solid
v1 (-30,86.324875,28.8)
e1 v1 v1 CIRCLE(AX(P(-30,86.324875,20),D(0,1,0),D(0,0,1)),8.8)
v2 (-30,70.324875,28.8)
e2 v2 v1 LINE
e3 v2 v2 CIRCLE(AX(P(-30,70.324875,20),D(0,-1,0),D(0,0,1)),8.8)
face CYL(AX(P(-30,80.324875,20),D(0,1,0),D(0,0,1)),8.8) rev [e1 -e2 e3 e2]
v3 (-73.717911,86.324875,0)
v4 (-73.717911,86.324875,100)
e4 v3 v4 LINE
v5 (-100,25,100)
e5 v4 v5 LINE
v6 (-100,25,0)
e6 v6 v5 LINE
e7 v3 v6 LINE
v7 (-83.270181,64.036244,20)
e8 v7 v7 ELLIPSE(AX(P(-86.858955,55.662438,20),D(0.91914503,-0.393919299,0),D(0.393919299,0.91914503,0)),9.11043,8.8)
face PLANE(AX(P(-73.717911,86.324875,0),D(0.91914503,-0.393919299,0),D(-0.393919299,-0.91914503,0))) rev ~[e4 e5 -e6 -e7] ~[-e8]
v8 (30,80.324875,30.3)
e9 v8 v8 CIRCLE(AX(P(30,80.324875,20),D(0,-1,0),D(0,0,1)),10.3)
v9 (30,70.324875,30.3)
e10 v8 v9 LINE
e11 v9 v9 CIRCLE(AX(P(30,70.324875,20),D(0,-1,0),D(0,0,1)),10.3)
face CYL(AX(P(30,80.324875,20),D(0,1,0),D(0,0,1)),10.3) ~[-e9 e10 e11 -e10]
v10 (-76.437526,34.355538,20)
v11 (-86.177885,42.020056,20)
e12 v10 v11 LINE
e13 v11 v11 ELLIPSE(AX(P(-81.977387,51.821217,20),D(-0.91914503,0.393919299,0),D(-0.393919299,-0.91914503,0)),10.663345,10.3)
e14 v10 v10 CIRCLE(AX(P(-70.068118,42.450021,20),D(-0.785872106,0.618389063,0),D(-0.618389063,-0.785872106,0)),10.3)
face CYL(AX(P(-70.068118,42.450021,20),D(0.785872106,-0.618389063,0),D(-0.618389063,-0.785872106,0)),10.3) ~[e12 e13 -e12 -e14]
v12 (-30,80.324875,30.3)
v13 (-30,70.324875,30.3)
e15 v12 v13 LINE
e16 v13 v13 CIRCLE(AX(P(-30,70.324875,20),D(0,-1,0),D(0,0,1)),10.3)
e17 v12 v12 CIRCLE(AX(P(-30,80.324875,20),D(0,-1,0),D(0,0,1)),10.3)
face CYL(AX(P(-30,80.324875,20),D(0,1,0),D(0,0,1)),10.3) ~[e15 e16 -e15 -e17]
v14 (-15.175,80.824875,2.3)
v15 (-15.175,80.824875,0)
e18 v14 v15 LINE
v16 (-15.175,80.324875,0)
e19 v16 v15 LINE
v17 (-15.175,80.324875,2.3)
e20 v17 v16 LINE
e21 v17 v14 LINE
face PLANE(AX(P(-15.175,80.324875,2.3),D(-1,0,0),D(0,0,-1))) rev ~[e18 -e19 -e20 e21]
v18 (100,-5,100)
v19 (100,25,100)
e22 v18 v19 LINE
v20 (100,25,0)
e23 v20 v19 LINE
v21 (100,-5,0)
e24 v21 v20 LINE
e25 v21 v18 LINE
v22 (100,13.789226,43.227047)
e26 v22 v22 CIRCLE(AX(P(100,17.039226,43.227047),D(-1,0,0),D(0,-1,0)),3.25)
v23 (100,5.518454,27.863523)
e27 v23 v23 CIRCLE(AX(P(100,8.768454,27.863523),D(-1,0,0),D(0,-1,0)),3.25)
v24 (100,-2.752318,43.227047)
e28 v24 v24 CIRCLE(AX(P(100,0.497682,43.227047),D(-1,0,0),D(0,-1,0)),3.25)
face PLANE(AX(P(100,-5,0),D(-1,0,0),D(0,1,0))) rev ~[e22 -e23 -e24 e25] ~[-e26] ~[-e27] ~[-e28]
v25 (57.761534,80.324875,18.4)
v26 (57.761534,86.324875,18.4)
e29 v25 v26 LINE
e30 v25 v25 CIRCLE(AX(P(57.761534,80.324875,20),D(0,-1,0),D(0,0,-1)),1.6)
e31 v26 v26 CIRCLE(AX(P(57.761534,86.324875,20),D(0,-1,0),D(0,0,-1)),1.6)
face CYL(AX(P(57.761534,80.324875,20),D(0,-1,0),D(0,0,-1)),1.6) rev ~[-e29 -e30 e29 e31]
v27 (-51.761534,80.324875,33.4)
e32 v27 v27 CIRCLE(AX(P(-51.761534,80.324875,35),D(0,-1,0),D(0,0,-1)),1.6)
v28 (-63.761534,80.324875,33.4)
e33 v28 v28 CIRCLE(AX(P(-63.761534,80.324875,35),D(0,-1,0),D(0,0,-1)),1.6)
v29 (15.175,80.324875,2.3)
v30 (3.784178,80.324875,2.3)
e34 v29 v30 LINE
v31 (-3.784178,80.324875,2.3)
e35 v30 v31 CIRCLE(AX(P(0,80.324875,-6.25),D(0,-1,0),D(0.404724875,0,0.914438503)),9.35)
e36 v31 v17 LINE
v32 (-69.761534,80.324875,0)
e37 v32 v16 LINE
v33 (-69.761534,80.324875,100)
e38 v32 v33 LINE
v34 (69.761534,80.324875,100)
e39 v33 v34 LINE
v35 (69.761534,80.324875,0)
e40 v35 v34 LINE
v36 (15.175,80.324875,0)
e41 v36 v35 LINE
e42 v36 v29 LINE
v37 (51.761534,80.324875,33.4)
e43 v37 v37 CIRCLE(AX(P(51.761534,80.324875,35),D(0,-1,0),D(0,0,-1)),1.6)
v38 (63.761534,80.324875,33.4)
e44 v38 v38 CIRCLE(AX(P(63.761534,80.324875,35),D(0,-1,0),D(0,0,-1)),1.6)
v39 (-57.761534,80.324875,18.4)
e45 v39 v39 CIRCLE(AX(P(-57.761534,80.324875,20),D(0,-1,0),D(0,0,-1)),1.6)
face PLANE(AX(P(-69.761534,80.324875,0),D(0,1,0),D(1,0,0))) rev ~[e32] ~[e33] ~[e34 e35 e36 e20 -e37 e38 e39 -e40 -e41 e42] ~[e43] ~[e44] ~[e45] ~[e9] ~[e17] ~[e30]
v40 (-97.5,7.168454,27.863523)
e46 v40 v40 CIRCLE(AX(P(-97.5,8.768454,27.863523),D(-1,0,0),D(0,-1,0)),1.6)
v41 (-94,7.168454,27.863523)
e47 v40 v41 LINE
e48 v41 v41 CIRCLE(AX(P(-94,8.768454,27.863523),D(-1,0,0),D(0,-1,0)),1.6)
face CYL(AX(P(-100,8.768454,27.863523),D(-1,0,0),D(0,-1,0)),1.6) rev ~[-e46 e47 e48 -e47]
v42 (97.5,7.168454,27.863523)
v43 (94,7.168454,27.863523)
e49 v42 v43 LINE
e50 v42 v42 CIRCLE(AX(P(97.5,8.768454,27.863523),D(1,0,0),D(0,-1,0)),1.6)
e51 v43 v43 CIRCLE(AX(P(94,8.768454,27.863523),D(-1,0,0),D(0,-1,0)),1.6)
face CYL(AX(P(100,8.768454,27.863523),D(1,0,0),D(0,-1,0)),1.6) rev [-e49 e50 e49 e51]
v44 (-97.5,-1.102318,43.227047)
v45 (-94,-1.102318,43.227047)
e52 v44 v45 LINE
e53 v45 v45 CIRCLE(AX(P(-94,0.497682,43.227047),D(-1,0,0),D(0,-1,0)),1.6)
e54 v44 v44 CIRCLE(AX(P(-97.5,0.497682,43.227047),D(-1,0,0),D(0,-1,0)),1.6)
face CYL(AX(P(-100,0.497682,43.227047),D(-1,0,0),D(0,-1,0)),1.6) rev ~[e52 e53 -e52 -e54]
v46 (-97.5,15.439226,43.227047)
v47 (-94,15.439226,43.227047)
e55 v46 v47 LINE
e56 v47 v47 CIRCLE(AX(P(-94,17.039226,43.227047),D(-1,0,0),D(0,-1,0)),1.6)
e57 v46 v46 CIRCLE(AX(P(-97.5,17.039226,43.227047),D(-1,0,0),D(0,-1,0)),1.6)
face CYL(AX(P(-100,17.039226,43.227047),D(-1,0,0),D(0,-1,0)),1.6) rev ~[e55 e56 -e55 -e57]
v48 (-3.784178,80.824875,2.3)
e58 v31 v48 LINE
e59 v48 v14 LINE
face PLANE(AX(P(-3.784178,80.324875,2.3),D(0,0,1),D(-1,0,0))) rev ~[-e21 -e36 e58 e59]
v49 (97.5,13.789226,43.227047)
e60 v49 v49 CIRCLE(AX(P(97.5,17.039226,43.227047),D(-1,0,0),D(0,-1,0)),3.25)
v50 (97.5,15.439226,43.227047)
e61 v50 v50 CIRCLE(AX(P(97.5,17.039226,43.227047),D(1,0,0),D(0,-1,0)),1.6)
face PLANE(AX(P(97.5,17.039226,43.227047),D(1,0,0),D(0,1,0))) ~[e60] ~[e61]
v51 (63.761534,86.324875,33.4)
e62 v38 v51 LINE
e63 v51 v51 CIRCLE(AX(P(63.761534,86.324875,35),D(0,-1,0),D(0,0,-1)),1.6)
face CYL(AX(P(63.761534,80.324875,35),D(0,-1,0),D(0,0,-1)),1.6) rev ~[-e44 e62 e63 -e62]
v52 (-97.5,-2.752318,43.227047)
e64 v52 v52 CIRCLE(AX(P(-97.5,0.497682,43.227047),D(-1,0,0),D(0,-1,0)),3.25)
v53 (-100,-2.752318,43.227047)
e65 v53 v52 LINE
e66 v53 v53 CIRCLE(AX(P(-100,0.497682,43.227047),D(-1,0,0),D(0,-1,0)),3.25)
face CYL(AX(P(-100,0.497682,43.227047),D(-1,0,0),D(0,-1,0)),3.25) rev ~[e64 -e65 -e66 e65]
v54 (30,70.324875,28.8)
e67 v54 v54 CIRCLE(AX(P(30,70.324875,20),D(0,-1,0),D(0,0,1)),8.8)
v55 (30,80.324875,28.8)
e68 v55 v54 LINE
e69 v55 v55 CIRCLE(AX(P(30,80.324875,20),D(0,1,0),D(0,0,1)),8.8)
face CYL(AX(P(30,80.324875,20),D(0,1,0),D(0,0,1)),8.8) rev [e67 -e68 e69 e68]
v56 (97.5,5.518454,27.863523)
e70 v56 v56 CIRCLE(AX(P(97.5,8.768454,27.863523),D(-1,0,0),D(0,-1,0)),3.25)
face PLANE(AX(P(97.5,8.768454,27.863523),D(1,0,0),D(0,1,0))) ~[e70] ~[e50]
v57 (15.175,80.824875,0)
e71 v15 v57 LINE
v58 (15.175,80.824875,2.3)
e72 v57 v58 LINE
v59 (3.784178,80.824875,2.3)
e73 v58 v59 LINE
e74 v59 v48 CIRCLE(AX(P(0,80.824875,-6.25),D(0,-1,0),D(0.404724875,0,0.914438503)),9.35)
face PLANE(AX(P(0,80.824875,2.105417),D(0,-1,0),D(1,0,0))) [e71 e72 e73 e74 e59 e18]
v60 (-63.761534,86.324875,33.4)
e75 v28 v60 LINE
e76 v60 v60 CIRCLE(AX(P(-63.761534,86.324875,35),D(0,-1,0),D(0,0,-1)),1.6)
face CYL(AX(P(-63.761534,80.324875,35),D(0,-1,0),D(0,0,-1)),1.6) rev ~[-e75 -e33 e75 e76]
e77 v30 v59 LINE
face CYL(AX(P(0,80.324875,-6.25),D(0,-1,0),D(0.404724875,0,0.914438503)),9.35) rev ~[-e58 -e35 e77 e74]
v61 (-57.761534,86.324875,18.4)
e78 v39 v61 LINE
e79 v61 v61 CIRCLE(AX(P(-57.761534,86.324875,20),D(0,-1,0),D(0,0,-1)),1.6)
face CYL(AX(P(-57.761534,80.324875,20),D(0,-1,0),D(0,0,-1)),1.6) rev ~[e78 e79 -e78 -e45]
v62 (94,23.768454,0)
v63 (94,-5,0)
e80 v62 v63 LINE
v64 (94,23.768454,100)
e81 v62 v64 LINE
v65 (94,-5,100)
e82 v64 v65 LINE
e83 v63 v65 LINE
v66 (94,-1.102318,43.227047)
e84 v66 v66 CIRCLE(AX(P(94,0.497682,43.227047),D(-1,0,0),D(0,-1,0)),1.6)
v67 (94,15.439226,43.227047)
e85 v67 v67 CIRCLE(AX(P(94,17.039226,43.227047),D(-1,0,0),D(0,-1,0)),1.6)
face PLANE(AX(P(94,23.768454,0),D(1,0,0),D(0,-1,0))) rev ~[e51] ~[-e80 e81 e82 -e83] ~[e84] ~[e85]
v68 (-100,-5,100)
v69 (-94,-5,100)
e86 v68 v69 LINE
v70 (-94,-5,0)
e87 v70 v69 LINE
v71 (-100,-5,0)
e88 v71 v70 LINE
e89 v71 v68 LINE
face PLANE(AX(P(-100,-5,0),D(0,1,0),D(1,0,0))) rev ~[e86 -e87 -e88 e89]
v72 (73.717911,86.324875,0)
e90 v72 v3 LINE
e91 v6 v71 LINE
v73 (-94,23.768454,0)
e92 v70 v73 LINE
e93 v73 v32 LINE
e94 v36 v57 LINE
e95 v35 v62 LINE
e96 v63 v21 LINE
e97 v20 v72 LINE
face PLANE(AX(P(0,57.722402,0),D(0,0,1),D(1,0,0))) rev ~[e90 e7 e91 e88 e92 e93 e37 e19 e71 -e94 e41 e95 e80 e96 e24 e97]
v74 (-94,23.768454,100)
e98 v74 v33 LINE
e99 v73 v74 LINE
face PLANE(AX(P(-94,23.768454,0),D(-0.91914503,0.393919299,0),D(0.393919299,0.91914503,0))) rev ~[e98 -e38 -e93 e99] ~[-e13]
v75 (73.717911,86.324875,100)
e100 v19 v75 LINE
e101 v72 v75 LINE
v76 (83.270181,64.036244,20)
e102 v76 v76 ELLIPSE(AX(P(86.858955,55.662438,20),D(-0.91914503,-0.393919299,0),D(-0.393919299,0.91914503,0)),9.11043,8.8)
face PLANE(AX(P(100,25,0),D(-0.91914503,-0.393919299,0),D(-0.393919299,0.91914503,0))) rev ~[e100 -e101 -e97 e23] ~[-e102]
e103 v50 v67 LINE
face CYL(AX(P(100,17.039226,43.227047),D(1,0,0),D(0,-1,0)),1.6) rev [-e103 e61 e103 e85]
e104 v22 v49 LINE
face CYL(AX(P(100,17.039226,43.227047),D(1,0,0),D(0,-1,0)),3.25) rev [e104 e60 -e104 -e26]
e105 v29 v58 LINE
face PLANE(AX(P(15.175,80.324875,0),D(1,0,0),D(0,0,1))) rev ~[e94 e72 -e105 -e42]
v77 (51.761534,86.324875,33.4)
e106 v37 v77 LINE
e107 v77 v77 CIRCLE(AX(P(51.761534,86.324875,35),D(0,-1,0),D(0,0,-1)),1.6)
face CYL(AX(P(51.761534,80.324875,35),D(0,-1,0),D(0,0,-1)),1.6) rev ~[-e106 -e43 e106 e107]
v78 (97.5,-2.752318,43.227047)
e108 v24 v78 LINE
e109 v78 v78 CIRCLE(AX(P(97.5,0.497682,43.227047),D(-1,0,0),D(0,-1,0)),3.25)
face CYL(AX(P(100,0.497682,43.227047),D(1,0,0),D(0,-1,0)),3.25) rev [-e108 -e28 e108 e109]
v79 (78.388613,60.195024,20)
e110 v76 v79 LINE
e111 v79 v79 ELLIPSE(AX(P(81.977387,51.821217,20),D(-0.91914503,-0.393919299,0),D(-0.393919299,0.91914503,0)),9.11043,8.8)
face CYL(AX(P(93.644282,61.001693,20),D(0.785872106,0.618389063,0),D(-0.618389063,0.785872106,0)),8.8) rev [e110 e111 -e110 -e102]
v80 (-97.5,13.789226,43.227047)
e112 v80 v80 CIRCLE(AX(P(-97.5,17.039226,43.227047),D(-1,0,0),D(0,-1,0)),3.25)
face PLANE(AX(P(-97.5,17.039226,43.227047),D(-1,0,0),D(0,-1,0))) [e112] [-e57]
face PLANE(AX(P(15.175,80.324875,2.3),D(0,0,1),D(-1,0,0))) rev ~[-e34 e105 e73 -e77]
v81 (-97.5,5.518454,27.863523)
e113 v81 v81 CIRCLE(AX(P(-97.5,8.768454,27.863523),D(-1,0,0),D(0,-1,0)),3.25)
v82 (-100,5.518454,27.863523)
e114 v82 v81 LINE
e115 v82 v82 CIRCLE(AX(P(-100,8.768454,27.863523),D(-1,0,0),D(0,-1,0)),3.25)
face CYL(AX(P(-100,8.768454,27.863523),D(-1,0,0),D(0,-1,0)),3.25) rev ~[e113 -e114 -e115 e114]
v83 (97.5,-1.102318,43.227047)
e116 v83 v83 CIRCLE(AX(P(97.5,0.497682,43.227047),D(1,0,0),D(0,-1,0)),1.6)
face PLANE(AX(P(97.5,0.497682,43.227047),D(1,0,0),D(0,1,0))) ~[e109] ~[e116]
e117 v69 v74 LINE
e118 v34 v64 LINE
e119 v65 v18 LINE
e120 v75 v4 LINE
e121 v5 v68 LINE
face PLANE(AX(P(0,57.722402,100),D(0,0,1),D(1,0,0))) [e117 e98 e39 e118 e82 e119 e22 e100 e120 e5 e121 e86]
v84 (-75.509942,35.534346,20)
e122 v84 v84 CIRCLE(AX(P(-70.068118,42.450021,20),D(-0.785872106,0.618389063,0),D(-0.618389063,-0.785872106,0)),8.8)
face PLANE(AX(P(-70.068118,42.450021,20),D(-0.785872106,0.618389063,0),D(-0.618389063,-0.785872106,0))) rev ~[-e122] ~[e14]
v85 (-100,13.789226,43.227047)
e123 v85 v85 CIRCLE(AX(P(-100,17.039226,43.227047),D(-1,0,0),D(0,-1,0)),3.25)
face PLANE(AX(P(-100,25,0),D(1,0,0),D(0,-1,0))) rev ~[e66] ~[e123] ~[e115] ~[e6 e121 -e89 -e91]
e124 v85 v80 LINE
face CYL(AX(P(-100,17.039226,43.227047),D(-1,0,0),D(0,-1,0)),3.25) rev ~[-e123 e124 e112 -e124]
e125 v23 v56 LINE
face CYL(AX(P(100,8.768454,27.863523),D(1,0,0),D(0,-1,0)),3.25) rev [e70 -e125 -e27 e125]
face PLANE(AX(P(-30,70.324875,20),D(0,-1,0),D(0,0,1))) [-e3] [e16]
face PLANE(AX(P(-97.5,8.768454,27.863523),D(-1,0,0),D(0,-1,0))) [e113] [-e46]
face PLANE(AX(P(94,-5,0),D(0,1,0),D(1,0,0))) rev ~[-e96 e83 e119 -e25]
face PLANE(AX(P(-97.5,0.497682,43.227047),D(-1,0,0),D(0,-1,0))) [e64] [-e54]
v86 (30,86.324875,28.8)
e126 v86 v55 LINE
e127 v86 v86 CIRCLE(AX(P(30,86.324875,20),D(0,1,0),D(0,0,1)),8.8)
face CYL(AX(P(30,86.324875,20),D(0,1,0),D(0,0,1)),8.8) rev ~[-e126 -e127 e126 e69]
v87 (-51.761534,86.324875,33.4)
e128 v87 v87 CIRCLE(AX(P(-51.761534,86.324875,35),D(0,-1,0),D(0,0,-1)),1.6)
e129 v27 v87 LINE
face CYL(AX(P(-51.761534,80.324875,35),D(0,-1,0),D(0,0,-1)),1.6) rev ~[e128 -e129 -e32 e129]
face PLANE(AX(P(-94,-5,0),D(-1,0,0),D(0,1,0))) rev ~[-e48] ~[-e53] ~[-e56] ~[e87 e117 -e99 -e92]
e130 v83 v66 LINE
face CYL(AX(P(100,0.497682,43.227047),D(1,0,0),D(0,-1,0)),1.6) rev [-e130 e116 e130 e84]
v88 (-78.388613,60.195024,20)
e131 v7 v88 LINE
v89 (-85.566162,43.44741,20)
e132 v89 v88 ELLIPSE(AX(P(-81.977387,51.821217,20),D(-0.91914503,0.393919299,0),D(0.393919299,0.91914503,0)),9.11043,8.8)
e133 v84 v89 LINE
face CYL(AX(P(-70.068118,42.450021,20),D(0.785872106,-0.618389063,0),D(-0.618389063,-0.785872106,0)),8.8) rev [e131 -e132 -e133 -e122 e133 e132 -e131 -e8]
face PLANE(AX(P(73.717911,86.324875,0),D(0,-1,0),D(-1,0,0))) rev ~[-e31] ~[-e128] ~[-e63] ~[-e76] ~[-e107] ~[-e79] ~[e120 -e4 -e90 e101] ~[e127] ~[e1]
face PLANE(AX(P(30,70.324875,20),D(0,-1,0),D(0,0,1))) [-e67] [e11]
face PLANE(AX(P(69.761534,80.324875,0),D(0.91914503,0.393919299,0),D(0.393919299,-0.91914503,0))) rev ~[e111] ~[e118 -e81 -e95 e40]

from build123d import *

# Parameters (mm, degrees)
SALIENTE_EXTRUIR1_DEPTH = 100
CORTAR_EXTRUIR1_REACH   = 170.346
CROQUIS3_R              = 8.8
CORTAR_EXTRUIR2_REACH   = 226.945
CROQUIS4_R              = 8.8
CORTAR_EXTRUIR3_DEPTH   = 0.5
CORTAR_EXTRUIR4_REACH   = 241.691
CROQUIS6_R              = 1.6
CROQUIS7_R              = 3.25
CORTAR_EXTRUIR5_DEPTH   = 2.5
CROQUIS11_R             = 10.3
CROQUIS11_R_2           = 8.8
SALIENTE_EXTRUIR2_DEPTH = 10
SALIENTE_EXTRUIR3_REACH = 201.802
CROQUIS12_R             = 10.3
CROQUIS12_R_2           = 8.8
CORTAR_EXTRUIR9_REACH   = 167.168
CROQUIS13_R             = 1.6


with BuildPart() as part:
    # Croquis1 → Saliente-Extruir1 (new body)
    with BuildSketch(Plane.XY):
        Polygon((-100, 25), (-100, -5), (-94, -5), (-94, 23.768453788), (-69.761533754, 80.324875029), (69.761533754, 80.324875029), (94, 23.768453788), (94, -5), (100, -5), (100, 25), (73.717910702, 86.324875029), (-73.717910702, 86.324875029), align=None)
    extrude(amount=SALIENTE_EXTRUIR1_DEPTH)

    # Croquis3 → Cortar-Extruir1 (cut, up to next)
    with BuildSketch(Plane(origin=(0, 86.324875029, 0), x_dir=(1, 0, 0), z_dir=(0, 1, 0)), mode=Mode.PRIVATE) as cortar_extruir1_sk1:
        with Locations(Location((-30, -20, 0), (0, 0, 270))):
            Circle(CROQUIS3_R)
    cortar_extruir1_tool1 = extrude(cortar_extruir1_sk1.sketch, amount=-CORTAR_EXTRUIR1_REACH, mode=Mode.PRIVATE) & part.part
    # Croquis3 → Cortar-Extruir1 (cut, up to next)
    with BuildSketch(Plane(origin=(0, 86.324875029, 0), x_dir=(1, 0, 0), z_dir=(0, 1, 0)), mode=Mode.PRIVATE) as cortar_extruir1_sk2:
        with Locations(Location((30, -20, 0), (0, 0, 270))):
            Circle(CROQUIS3_R)
    cortar_extruir1_tool2 = extrude(cortar_extruir1_sk2.sketch, amount=-CORTAR_EXTRUIR1_REACH, mode=Mode.PRIVATE) & part.part
    add(cortar_extruir1_tool1.solids().sort_by_distance((-30, 86.324875, 20))[0], mode=Mode.SUBTRACT)
    add(cortar_extruir1_tool2.solids().sort_by_distance((30, 86.324875, 20))[0], mode=Mode.SUBTRACT)

    # Cortar-Extruir2: up to this plane
    cortar_extruir2_end = Plane(origin=(-94, 23.768453788, 100), z_dir=(-0.9191450300180581, 0.3939192985791672, 0))
    # Croquis4 → Cortar-Extruir2 (cut, up to the surface)
    with BuildSketch(Plane(origin=(-87.479517168, 68.836107355, 0), x_dir=(0, 0, -1), z_dir=(-0.7858721058939679, 0.6183890629512945, 0)), mode=Mode.PRIVATE) as cortar_extruir2_sk1:
        with Locations(Location((-20, 9.96907102, 0), (0, 0, 270))):
            Circle(CROQUIS4_R)
    cortar_extruir2_tool1 = split(extrude(cortar_extruir2_sk1.sketch, amount=-CORTAR_EXTRUIR2_REACH, mode=Mode.PRIVATE), bisect_by=cortar_extruir2_end, keep=Keep.BOTH, mode=Mode.PRIVATE)
    cortar_extruir2 = cortar_extruir2_tool1.solids().sort_by_distance((-93.644282, 61.001693, 20))[0]
    add(cortar_extruir2, mode=Mode.SUBTRACT)

    # Simetría1: Cortar-Extruir2 across plane
    add(cortar_extruir2.mirror(Plane(origin=(0, 0, 0), x_dir=(0, 0, 1), z_dir=(1, 0, 0))), mode=Mode.SUBTRACT)

    # Croquis5 → Cortar-Extruir3 (cut)
    with BuildSketch(Plane.XZ.offset(-80.324875029)):
        with BuildLine():
            Line((14.875, 0), (15.175, 0))
            Line((15.175, 0), (15.175, 2.3))
            Line((15.175, 2.3), (3.784177586, 2.3))
            ThreePointArc((3.784177586, 2.3), (0, 3.1), (-3.784177586, 2.3))
            Line((-3.784177586, 2.3), (-15.175, 2.3))
            Line((-15.175, 2.3), (-15.175, 0))
            Line((-15.175, 0), (-14.875, 0))
            Line((-14.875, 0), (-14.875, 2))
            Line((-14.875, 2), (-3.720215048, 2))
            ThreePointArc((-3.720215048, 2), (0, 2.8), (3.720215048, 2))
            Line((3.720215048, 2), (14.875, 2))
            Line((14.875, 2), (14.875, 0))
        make_face()
        with BuildLine():
            Line((3.261901286, 0), (14.875, 0))
            Line((14.875, 0), (14.875, 2))
            Line((14.875, 2), (3.720215048, 2))
            ThreePointArc((3.720215048, 2), (0, 2.8), (-3.720215048, 2))
            Line((-3.720215048, 2), (-14.875, 2))
            Line((-14.875, 2), (-14.875, 0))
            Line((-14.875, 0), (-3.261901286, 0))
            ThreePointArc((-3.261901286, 0), (0, 0.8), (3.261901286, 0))
        make_face()
        with BuildLine():
            Line((-3.261901286, 0), (3.261901286, 0))
            ThreePointArc((3.261901286, 0), (0, 0.8), (-3.261901286, 0))
        make_face()
    extrude(amount=-CORTAR_EXTRUIR3_DEPTH, mode=Mode.SUBTRACT)

    # Croquis6 → Cortar-Extruir4 (cut, up to next)
    with BuildSketch(Plane.ZY.offset(100), mode=Mode.PRIVATE) as cortar_extruir4_sk1:
        with Locations(Location((43.227046774, 0.497681725, 0), (0, 0, 270))):
            Circle(CROQUIS6_R)
    cortar_extruir4_tool1 = extrude(cortar_extruir4_sk1.sketch, amount=-CORTAR_EXTRUIR4_REACH, mode=Mode.PRIVATE) & part.part
    # Croquis6 → Cortar-Extruir4 (cut, up to next)
    with BuildSketch(Plane.ZY.offset(100), mode=Mode.PRIVATE) as cortar_extruir4_sk2:
        with Locations(Location((27.863523387, 8.768453788, 0), (0, 0, 270))):
            Circle(CROQUIS6_R)
    cortar_extruir4_tool2 = extrude(cortar_extruir4_sk2.sketch, amount=-CORTAR_EXTRUIR4_REACH, mode=Mode.PRIVATE) & part.part
    # Croquis6 → Cortar-Extruir4 (cut, up to next)
    with BuildSketch(Plane.ZY.offset(100), mode=Mode.PRIVATE) as cortar_extruir4_sk3:
        with Locations(Location((43.227046774, 17.039225851, 0), (0, 0, 270))):
            Circle(CROQUIS6_R)
    cortar_extruir4_tool3 = extrude(cortar_extruir4_sk3.sketch, amount=-CORTAR_EXTRUIR4_REACH, mode=Mode.PRIVATE) & part.part
    cortar_extruir4_1 = cortar_extruir4_tool1.solids().sort_by_distance((-100, 0.497682, 43.227047))[0]
    add(cortar_extruir4_1, mode=Mode.SUBTRACT)
    cortar_extruir4_2 = cortar_extruir4_tool2.solids().sort_by_distance((-100, 8.768454, 27.863523))[0]
    add(cortar_extruir4_2, mode=Mode.SUBTRACT)
    cortar_extruir4_3 = cortar_extruir4_tool3.solids().sort_by_distance((-100, 17.039226, 43.227047))[0]
    add(cortar_extruir4_3, mode=Mode.SUBTRACT)
    cortar_extruir4 = cortar_extruir4_1 + cortar_extruir4_2 + cortar_extruir4_3  # Cortar-Extruir4 as one shape, for the pattern or mirror that repeats it

    # Croquis7 → Cortar-Extruir5 (cut)
    with BuildSketch(Plane.ZY.offset(100)):
        with Locations(Location((27.863523387, 8.768453788, 0), (0, 0, 270))):
            Circle(CROQUIS7_R)
        with Locations(Location((43.227046774, 0.497681725, 0), (0, 0, 270))):
            Circle(CROQUIS7_R)
        with Locations(Location((43.227046774, 17.039225851, 0), (0, 0, 270))):
            Circle(CROQUIS7_R)
    cortar_extruir5 = extrude(amount=-CORTAR_EXTRUIR5_DEPTH, mode=Mode.SUBTRACT)

    # Simetría2: Cortar-Extruir4, Cortar-Extruir5 across plane
    add(cortar_extruir4.mirror(Plane(origin=(0, 0, 0), x_dir=(0, 0, 1), z_dir=(1, 0, 0))), mode=Mode.SUBTRACT)
    add(cortar_extruir5.mirror(Plane(origin=(0, 0, 0), x_dir=(0, 0, 1), z_dir=(1, 0, 0))), mode=Mode.SUBTRACT)

    # Croquis11 → Saliente-Extruir2 (add)
    with BuildSketch(Plane.XZ.offset(-80.324875029)):
        with Locations(Location((-30, 20, 0), (0, 0, 90))):
            Circle(CROQUIS11_R)
        with Locations(Location((-30, 20, 0), (0, 0, 90))):
            Circle(CROQUIS11_R_2, mode=Mode.SUBTRACT)
        with Locations(Location((30, 20, 0), (0, 0, 90))):
            Circle(CROQUIS11_R)
        with Locations(Location((30, 20, 0), (0, 0, 90))):
            Circle(CROQUIS11_R_2, mode=Mode.SUBTRACT)
    extrude(amount=SALIENTE_EXTRUIR2_DEPTH)

    # Saliente-Extruir3: up to this plane
    saliente_extruir3_end = Plane(origin=(-94, 23.768453788, 100), z_dir=(-0.9191450300180581, 0.3939192985791672, 0))
    # Croquis12 → Saliente-Extruir3 (add, up to the surface)
    with BuildSketch(Plane(origin=(-63.903353991, 50.284435467, 0), x_dir=(0, 0, -1), z_dir=(-0.7858721058939679, 0.6183890629512945, 0)), mode=Mode.PRIVATE) as saliente_extruir3_sk1:
        with Locations(Location((-20, 9.96907102, 0), (0, 0, 90))):
            Circle(CROQUIS12_R)
        with Locations(Location((-20, 9.96907102, 0), (0, 0, 90))):
            Circle(CROQUIS12_R_2, mode=Mode.SUBTRACT)
    saliente_extruir3_tool1 = split(extrude(saliente_extruir3_sk1.sketch, amount=SALIENTE_EXTRUIR3_REACH, mode=Mode.PRIVATE), bisect_by=saliente_extruir3_end, keep=Keep.BOTH, mode=Mode.PRIVATE)
    add(saliente_extruir3_tool1.solids().sort_by_distance((-63.878865, 50.315557, 20))[0])

    # Croquis13 → Cortar-Extruir9 (cut, up to next)
    with BuildSketch(Plane.XZ.offset(-80.324875029), mode=Mode.PRIVATE) as cortar_extruir9_sk1:
        with Locations(Location((57.761533754, 20, 0), (0, 0, 270))):
            Circle(CROQUIS13_R)
    cortar_extruir9_tool1 = extrude(cortar_extruir9_sk1.sketch, amount=-CORTAR_EXTRUIR9_REACH, mode=Mode.PRIVATE) & part.part
    # Croquis13 → Cortar-Extruir9 (cut, up to next)
    with BuildSketch(Plane.XZ.offset(-80.324875029), mode=Mode.PRIVATE) as cortar_extruir9_sk2:
        with Locations(Location((51.761533754, 35, 0), (0, 0, 270))):
            Circle(CROQUIS13_R)
    cortar_extruir9_tool2 = extrude(cortar_extruir9_sk2.sketch, amount=-CORTAR_EXTRUIR9_REACH, mode=Mode.PRIVATE) & part.part
    # Croquis13 → Cortar-Extruir9 (cut, up to next)
    with BuildSketch(Plane.XZ.offset(-80.324875029), mode=Mode.PRIVATE) as cortar_extruir9_sk3:
        with Locations(Location((63.761533754, 35, 0), (0, 0, 270))):
            Circle(CROQUIS13_R)
    cortar_extruir9_tool3 = extrude(cortar_extruir9_sk3.sketch, amount=-CORTAR_EXTRUIR9_REACH, mode=Mode.PRIVATE) & part.part
    # Croquis13 → Cortar-Extruir9 (cut, up to next)
    with BuildSketch(Plane.XZ.offset(-80.324875029), mode=Mode.PRIVATE) as cortar_extruir9_sk4:
        with Locations(Location((-57.761533754, 20, 0), (0, 0, 270))):
            Circle(CROQUIS13_R)
    cortar_extruir9_tool4 = extrude(cortar_extruir9_sk4.sketch, amount=-CORTAR_EXTRUIR9_REACH, mode=Mode.PRIVATE) & part.part
    # Croquis13 → Cortar-Extruir9 (cut, up to next)
    with BuildSketch(Plane.XZ.offset(-80.324875029), mode=Mode.PRIVATE) as cortar_extruir9_sk5:
        with Locations(Location((-63.761533754, 35, 0), (0, 0, 270))):
            Circle(CROQUIS13_R)
    cortar_extruir9_tool5 = extrude(cortar_extruir9_sk5.sketch, amount=-CORTAR_EXTRUIR9_REACH, mode=Mode.PRIVATE) & part.part
    # Croquis13 → Cortar-Extruir9 (cut, up to next)
    with BuildSketch(Plane.XZ.offset(-80.324875029), mode=Mode.PRIVATE) as cortar_extruir9_sk6:
        with Locations(Location((-51.761533754, 35, 0), (0, 0, 270))):
            Circle(CROQUIS13_R)
    cortar_extruir9_tool6 = extrude(cortar_extruir9_sk6.sketch, amount=-CORTAR_EXTRUIR9_REACH, mode=Mode.PRIVATE) & part.part
    add(cortar_extruir9_tool1.solids().sort_by_distance((57.761534, 80.324875, 20))[0], mode=Mode.SUBTRACT)
    add(cortar_extruir9_tool2.solids().sort_by_distance((51.761534, 80.324875, 35))[0], mode=Mode.SUBTRACT)
    add(cortar_extruir9_tool3.solids().sort_by_distance((63.761534, 80.324875, 35))[0], mode=Mode.SUBTRACT)
    add(cortar_extruir9_tool4.solids().sort_by_distance((-57.761534, 80.324875, 20))[0], mode=Mode.SUBTRACT)
    add(cortar_extruir9_tool5.solids().sort_by_distance((-63.761534, 80.324875, 35))[0], mode=Mode.SUBTRACT)
    add(cortar_extruir9_tool6.solids().sort_by_distance((-51.761534, 80.324875, 35))[0], mode=Mode.SUBTRACT)


solid = part.part
